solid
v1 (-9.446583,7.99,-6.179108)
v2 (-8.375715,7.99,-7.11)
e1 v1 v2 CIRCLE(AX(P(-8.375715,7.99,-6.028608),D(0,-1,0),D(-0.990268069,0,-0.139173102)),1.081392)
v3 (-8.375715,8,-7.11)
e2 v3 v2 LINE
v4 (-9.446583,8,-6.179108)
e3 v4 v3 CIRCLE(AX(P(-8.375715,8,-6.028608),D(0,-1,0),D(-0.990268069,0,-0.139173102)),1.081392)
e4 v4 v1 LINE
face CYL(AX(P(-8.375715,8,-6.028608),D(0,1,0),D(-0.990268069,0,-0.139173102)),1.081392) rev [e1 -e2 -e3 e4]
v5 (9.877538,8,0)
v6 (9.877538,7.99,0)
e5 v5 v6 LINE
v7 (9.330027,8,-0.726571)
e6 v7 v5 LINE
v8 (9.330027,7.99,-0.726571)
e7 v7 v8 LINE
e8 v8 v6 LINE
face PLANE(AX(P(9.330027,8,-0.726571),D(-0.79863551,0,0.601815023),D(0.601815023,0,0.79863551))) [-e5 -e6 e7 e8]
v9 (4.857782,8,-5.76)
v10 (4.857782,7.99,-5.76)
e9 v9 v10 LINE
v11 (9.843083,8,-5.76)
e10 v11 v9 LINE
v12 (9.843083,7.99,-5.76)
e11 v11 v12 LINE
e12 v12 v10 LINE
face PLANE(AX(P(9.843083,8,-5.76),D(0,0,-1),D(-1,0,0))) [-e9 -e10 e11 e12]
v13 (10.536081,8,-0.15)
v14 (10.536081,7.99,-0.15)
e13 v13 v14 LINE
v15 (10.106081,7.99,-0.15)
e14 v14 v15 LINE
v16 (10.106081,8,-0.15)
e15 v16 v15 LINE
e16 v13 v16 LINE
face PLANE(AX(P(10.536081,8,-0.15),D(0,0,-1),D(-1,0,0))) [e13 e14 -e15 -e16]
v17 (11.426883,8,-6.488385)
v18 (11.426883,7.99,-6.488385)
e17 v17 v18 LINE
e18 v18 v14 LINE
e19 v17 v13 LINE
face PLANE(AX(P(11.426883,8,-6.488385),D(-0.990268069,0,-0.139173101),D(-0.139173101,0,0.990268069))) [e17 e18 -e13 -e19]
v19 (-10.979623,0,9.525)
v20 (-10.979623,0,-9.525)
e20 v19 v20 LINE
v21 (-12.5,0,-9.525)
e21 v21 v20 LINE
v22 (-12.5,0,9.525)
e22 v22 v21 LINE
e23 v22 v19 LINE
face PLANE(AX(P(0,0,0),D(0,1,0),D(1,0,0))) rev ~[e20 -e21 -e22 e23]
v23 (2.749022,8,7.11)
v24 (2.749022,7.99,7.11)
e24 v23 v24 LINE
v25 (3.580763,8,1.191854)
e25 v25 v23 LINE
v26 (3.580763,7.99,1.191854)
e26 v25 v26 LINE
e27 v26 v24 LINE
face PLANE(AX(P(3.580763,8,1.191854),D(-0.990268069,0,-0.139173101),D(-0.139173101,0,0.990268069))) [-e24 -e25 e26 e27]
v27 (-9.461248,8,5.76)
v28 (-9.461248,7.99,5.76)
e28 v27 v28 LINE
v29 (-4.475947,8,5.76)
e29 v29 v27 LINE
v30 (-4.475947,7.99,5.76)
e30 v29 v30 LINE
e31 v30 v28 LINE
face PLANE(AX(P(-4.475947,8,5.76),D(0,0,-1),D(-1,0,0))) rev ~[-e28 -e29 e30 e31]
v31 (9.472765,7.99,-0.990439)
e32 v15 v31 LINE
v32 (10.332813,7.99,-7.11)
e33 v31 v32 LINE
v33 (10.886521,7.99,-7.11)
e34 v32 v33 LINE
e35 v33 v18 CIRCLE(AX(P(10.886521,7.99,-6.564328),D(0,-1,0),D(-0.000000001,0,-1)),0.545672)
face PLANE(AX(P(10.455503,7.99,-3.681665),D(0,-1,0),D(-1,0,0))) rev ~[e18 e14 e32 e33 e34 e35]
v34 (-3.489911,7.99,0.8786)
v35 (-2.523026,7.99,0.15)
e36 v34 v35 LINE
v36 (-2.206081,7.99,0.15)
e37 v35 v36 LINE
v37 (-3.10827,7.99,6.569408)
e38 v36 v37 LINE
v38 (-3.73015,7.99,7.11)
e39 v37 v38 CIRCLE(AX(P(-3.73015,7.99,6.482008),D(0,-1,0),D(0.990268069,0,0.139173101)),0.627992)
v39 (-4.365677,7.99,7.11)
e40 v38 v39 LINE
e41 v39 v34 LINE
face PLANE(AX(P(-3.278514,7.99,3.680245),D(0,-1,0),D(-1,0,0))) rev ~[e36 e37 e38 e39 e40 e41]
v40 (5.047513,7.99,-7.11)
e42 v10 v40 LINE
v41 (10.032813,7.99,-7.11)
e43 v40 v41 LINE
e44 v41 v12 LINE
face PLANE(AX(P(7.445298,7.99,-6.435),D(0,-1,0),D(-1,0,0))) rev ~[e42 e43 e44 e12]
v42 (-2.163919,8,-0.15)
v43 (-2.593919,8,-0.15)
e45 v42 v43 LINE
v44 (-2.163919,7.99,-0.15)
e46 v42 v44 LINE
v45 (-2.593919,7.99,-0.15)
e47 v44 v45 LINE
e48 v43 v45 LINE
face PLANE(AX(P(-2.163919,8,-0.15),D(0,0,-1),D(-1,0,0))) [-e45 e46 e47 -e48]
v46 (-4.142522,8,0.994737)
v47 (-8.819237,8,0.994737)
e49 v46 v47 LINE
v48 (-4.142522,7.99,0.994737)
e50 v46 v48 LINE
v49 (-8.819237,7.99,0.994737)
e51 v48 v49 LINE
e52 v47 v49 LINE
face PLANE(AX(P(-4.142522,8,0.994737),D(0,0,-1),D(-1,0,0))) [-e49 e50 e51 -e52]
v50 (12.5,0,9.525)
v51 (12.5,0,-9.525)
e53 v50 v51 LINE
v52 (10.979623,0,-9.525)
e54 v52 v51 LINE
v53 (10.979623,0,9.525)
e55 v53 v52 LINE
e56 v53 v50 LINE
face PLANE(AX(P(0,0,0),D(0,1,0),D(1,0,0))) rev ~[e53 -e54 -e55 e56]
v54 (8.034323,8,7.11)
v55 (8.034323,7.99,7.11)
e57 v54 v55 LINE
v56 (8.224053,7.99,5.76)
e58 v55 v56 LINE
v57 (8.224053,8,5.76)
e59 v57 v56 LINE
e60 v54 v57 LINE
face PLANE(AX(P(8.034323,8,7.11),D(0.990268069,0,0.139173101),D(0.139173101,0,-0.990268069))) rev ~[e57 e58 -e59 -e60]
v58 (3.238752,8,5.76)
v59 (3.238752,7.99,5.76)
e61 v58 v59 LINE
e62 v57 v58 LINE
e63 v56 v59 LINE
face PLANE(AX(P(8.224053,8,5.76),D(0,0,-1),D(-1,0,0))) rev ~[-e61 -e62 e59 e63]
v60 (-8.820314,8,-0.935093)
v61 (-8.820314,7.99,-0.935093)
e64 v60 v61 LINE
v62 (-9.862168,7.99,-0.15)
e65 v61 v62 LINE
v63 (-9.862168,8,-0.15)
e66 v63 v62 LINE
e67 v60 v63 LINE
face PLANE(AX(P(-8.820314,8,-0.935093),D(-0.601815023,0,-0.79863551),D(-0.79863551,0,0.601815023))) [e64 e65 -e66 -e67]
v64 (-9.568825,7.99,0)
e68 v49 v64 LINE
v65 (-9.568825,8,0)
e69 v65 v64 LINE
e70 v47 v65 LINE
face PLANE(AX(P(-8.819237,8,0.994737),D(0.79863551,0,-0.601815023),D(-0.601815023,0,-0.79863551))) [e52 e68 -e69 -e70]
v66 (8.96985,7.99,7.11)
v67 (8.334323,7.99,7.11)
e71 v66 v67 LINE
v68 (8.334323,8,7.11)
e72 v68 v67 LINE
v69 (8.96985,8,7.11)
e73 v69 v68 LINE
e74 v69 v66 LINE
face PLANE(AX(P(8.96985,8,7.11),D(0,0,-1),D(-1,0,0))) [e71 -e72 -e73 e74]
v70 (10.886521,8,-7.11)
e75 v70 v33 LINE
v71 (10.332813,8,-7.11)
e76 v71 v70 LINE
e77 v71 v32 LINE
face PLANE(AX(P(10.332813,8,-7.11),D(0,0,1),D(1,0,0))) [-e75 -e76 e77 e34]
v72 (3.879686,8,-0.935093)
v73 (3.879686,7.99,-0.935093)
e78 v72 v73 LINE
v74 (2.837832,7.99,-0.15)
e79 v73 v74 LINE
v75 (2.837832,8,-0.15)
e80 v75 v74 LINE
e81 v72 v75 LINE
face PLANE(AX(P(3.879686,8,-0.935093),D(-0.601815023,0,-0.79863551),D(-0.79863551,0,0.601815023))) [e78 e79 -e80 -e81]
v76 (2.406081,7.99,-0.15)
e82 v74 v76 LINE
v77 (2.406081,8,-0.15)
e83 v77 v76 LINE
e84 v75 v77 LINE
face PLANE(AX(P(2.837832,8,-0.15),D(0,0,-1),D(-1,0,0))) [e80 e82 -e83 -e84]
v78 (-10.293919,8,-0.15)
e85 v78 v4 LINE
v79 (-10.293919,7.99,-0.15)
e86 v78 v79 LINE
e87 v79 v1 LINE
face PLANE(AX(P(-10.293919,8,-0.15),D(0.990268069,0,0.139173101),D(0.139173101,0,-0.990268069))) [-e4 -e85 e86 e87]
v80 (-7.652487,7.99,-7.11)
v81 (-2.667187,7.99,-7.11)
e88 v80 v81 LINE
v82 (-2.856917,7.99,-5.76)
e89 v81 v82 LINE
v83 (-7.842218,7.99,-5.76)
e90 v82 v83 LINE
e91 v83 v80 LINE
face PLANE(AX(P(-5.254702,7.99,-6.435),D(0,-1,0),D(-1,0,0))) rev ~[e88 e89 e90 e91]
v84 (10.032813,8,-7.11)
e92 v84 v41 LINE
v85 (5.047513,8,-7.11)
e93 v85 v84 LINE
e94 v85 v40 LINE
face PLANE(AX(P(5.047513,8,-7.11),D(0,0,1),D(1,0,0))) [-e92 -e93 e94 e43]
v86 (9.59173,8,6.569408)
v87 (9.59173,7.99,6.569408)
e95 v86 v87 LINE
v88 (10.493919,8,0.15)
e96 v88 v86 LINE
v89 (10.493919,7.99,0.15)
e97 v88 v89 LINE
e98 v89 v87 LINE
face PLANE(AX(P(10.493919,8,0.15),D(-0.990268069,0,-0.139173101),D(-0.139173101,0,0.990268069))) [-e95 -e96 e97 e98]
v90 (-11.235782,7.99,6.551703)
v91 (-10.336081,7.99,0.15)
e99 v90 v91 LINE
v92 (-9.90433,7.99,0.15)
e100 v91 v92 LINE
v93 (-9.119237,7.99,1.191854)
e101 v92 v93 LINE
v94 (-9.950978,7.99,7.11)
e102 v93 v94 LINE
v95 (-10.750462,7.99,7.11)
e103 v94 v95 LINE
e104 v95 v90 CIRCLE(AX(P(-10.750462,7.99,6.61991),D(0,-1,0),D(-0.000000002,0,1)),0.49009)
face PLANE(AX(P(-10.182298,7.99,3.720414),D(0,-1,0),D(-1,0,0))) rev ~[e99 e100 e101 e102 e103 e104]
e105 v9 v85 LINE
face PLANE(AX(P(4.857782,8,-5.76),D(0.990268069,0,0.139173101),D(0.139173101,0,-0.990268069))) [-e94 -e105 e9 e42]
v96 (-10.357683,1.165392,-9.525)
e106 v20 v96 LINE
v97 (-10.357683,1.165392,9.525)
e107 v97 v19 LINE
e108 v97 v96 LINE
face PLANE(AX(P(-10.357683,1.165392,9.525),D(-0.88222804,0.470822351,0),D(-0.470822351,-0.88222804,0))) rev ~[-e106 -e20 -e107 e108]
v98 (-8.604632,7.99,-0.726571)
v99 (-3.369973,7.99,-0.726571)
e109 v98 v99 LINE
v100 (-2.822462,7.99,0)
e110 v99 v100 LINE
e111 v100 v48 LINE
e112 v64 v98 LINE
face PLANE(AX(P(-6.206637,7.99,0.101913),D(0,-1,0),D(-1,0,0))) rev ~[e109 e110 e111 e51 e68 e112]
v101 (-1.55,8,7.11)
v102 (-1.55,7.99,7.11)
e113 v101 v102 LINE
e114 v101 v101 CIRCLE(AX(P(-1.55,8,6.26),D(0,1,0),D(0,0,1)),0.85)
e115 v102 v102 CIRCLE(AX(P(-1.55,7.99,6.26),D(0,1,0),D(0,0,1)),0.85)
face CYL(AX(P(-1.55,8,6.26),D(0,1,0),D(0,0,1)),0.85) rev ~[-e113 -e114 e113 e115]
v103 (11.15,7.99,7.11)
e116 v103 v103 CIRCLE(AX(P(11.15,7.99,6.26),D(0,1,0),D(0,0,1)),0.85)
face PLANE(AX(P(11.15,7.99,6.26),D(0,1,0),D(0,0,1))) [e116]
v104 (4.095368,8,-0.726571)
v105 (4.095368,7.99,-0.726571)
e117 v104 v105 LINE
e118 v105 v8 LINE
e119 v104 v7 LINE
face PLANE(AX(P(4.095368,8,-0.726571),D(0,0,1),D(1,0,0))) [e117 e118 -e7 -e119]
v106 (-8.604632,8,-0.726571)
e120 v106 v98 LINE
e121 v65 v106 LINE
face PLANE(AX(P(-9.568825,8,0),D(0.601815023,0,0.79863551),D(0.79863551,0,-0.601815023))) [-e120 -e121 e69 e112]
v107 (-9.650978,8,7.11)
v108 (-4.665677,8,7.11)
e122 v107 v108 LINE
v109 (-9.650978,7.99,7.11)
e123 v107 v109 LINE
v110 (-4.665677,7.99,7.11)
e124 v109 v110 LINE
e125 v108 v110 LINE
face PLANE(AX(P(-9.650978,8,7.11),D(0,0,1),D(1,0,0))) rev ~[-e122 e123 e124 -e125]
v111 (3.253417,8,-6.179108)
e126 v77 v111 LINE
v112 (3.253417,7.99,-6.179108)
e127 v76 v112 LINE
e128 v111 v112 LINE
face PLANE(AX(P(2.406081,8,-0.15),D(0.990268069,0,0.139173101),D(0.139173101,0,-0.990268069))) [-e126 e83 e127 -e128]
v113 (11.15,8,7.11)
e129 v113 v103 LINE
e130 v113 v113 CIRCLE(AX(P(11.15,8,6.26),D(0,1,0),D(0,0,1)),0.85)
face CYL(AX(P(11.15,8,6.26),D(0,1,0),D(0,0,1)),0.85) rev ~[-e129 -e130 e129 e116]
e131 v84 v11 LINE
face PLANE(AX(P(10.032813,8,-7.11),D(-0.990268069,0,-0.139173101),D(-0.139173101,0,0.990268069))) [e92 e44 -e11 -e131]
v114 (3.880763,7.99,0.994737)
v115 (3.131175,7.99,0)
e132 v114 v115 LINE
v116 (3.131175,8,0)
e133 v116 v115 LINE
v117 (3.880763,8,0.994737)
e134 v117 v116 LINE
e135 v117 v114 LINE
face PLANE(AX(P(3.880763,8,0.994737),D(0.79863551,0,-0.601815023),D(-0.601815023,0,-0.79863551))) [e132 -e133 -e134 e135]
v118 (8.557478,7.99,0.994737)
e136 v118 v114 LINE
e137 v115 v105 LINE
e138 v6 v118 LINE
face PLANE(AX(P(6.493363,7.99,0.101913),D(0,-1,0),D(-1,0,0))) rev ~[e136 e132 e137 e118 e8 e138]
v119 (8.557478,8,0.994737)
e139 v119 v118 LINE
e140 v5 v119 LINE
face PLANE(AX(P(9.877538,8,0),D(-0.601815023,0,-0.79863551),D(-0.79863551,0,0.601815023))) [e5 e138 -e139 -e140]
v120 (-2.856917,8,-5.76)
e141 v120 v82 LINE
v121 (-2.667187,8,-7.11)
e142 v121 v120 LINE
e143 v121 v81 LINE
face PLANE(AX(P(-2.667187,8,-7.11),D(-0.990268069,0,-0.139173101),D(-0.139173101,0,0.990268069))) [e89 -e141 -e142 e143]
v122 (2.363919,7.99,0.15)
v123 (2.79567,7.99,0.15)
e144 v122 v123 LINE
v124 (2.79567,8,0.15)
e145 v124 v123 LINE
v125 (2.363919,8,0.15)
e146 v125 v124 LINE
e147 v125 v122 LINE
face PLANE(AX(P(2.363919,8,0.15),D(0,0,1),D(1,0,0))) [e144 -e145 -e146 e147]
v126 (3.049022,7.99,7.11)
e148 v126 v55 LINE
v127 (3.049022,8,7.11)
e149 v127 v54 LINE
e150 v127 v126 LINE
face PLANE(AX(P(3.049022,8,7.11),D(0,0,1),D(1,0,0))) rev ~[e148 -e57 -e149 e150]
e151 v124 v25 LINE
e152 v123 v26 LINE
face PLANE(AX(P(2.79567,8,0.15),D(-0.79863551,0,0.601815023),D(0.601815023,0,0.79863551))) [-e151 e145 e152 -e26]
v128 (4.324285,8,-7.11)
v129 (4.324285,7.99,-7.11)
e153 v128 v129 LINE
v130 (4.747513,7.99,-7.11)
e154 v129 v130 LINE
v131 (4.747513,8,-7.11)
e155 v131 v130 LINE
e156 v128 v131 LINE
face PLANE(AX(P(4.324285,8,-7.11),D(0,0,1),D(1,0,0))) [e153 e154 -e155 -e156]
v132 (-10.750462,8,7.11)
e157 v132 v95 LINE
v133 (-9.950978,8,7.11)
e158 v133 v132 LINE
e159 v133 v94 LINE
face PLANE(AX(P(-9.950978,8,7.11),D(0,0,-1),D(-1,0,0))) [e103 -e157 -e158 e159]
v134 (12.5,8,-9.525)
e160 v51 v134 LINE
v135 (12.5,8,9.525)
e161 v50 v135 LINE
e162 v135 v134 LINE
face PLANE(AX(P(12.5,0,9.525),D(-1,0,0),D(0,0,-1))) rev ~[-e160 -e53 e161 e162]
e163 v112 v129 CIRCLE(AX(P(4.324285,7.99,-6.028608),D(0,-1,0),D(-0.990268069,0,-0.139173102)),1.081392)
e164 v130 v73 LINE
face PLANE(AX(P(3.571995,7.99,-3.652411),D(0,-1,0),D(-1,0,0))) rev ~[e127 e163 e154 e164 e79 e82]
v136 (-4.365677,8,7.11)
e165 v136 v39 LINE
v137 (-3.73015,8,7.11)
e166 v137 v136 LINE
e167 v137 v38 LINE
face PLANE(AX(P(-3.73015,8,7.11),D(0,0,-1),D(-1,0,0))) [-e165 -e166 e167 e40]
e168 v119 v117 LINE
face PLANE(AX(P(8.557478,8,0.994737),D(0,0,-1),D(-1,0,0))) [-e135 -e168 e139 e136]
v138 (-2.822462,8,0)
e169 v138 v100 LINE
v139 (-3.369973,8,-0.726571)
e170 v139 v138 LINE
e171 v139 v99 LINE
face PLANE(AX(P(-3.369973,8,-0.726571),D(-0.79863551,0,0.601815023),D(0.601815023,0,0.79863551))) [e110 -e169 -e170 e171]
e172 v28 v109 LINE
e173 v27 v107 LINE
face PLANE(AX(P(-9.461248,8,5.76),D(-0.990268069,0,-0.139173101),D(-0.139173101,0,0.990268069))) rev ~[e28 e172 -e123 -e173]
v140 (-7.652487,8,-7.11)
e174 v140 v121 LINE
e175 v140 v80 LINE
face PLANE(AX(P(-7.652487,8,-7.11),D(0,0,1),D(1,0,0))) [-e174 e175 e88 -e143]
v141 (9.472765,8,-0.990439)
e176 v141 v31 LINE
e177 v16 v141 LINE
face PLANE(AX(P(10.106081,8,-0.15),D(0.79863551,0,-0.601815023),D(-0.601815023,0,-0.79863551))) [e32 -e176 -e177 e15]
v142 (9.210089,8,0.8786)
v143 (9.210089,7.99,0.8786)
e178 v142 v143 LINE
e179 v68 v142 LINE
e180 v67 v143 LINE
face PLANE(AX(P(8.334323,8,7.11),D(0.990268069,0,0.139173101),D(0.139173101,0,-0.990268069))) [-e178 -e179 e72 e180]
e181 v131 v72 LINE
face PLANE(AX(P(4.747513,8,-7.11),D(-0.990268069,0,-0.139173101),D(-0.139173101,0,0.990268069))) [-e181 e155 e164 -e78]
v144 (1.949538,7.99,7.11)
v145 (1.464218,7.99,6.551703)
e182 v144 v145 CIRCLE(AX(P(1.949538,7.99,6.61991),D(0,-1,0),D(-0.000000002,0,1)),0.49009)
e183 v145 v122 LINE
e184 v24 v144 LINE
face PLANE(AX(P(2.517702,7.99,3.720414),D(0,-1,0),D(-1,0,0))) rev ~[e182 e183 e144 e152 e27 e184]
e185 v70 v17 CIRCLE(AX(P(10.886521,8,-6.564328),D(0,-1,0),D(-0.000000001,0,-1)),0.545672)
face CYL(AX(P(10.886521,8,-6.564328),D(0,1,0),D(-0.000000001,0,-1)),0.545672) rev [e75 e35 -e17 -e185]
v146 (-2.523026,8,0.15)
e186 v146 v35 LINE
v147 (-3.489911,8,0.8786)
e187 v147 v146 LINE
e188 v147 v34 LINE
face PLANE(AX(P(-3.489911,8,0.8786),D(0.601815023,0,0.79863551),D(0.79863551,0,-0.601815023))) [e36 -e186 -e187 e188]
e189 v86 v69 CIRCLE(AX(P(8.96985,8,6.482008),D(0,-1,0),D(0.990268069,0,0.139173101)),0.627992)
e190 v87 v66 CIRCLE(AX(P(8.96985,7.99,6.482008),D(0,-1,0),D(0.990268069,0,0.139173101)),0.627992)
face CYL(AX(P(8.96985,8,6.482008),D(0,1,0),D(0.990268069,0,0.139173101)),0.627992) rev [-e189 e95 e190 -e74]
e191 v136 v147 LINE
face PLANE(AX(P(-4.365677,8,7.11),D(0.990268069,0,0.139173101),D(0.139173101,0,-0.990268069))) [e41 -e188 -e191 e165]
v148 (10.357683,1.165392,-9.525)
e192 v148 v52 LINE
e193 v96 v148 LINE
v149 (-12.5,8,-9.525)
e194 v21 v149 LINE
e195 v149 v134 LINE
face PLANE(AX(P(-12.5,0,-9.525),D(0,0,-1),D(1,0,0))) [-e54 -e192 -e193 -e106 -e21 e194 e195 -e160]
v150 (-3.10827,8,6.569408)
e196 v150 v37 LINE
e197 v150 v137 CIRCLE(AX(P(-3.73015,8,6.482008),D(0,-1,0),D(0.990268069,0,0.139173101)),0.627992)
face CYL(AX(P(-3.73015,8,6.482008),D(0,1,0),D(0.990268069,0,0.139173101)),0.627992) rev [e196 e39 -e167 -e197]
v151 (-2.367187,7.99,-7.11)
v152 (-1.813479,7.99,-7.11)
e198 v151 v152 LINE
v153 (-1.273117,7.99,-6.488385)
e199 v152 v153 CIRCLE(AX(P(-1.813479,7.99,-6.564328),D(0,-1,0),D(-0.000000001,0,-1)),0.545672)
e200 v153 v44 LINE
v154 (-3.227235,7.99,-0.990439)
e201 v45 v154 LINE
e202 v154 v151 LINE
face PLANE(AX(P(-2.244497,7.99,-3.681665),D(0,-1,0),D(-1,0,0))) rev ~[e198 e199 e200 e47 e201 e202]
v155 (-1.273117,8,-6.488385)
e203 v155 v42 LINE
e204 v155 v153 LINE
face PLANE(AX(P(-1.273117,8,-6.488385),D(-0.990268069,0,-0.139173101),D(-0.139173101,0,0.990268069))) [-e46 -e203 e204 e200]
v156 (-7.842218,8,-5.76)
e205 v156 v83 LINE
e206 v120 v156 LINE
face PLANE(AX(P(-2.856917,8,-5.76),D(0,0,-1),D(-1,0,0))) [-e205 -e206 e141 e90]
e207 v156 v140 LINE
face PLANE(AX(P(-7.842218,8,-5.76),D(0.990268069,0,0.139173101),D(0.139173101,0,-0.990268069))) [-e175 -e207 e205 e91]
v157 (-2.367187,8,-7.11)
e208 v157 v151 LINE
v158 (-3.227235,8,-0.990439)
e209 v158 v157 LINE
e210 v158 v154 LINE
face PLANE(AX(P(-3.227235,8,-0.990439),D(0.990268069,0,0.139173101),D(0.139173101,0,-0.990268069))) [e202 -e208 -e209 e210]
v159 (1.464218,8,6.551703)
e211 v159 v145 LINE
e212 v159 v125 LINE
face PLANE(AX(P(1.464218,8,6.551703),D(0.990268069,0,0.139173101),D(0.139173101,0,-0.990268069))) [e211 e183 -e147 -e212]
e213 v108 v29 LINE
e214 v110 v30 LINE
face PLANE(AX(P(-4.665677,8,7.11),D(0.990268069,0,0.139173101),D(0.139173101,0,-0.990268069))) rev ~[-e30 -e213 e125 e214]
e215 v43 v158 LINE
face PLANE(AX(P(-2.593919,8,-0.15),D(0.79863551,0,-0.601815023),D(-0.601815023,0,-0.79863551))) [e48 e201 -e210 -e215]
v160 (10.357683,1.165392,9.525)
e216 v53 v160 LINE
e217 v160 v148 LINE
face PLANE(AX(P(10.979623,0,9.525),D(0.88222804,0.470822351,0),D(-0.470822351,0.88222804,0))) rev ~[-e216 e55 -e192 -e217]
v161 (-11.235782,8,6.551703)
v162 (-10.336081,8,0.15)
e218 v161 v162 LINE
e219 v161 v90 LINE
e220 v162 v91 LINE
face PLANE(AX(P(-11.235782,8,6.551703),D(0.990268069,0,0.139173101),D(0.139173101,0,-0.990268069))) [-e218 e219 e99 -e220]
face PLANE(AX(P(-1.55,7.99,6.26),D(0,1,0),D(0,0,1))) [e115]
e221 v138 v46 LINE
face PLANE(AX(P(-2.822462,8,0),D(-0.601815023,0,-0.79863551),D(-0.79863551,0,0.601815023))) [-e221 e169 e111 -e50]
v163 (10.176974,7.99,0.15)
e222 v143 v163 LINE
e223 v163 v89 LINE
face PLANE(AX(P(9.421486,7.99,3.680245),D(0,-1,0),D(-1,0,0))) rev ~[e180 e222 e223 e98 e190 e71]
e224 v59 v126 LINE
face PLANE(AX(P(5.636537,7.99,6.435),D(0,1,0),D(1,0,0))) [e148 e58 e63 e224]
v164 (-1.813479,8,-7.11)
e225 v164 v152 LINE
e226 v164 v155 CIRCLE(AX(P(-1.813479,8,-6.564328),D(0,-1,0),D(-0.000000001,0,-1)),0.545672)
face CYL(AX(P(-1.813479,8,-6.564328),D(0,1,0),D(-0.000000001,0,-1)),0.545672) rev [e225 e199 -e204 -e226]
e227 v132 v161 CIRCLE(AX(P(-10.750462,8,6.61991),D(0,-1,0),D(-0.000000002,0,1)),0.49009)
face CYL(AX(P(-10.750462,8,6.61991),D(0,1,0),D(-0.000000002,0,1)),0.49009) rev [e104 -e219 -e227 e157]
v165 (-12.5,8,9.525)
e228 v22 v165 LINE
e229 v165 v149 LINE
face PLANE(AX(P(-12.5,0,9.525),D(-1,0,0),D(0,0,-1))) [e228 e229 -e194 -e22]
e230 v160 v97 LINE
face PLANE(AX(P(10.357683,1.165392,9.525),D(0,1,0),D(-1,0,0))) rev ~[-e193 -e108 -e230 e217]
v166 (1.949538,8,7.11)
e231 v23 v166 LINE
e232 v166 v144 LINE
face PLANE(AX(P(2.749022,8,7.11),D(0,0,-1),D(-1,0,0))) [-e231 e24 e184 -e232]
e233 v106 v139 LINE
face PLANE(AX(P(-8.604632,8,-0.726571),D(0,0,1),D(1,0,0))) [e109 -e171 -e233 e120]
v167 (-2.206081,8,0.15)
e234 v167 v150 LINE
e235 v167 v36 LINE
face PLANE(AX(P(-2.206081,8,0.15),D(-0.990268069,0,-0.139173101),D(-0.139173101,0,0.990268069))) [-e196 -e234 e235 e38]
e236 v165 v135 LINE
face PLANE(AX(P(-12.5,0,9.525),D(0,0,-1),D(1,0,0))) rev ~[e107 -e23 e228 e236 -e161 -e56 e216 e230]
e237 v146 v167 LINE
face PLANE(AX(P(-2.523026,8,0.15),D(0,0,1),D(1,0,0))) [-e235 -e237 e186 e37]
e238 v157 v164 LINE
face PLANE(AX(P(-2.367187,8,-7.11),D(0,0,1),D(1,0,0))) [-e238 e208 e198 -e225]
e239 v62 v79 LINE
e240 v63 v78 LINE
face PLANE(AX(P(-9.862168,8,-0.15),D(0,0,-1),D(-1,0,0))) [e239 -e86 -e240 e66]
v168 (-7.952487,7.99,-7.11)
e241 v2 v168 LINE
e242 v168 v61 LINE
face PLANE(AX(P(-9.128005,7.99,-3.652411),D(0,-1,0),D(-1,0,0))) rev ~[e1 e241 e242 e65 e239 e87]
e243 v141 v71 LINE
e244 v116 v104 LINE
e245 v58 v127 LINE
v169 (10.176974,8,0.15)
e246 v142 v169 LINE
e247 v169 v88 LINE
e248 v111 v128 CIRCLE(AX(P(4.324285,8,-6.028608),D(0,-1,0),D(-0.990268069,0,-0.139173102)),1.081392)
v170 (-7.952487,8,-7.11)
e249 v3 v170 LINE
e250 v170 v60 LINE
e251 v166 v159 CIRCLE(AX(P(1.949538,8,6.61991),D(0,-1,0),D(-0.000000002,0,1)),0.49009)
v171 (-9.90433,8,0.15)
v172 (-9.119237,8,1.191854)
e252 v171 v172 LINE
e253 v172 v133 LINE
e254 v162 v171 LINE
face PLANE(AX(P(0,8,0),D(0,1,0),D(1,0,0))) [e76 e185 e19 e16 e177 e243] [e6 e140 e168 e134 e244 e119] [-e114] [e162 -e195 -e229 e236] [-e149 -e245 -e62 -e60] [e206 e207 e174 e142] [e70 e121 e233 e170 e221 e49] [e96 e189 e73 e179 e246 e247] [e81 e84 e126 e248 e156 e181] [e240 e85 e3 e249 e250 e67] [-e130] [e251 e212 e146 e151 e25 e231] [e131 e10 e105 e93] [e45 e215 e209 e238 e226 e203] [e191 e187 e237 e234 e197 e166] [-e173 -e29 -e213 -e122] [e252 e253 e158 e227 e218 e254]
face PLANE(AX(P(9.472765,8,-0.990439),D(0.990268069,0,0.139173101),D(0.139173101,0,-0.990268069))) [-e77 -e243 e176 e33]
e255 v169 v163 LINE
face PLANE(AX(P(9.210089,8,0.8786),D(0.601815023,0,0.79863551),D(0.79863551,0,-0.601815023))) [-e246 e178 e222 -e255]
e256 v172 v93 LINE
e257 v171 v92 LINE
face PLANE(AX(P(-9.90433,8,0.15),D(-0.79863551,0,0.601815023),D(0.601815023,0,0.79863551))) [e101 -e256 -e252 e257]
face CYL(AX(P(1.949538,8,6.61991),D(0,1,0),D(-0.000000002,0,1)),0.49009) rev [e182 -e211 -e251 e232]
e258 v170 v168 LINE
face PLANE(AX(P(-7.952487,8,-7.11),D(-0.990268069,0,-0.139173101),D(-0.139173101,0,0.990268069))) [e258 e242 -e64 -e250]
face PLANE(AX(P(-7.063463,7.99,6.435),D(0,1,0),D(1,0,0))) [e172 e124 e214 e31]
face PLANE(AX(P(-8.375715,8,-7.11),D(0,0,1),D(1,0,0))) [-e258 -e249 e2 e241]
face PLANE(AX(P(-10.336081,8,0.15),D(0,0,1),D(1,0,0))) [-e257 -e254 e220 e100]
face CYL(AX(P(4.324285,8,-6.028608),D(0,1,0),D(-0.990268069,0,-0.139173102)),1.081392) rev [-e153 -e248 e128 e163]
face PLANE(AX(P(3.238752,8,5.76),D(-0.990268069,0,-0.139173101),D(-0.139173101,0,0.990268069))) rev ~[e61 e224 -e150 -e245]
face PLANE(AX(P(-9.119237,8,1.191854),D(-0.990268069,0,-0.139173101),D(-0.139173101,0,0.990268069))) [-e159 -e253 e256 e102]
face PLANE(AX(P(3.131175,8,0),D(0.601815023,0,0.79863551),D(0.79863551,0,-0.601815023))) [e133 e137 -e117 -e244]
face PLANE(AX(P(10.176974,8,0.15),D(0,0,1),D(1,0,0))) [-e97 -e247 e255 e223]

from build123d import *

# Parameters (mm, degrees)
SKETCH1_W           = 25
SKETCH1_H           = 19.05
BOSS_EXTRUDE1_DEPTH = 8
CUT_EXTRUDE1_DEPTH  = 25.148550681
SKETCH3_R           = 0.85
CUT_EXTRUDE3_DEPTH  = 0.01
LPATTERN2_COUNT     = 2
LPATTERN2_PITCH     = 12.7


with BuildPart() as part:
    # Sketch1 → Boss-Extrude1 (new body)
    with BuildSketch(Plane(origin=(0, 0, 0), x_dir=(1, 0, 0), z_dir=(0, 1, 0))):
        Rectangle(SKETCH1_W, SKETCH1_H)
    extrude(amount=BOSS_EXTRUDE1_DEPTH)

    # Sketch2 → Cut-Extrude1 (cut, through all)
    with BuildSketch(Plane.XY.offset(9.525)):
        Polygon((-10.357683229, 1.165391541), (-10.979622637, 0), (10.979622637, 0), (10.357683229, 1.165391541), align=None)
    extrude(amount=-CUT_EXTRUDE1_DEPTH, mode=Mode.SUBTRACT)

    # Sketch3 → Cut-Extrude3 (cut)
    with BuildSketch(Plane(origin=(0, 8, 0), x_dir=(1, 0, 0), z_dir=(0, 1, 0))):
        with Locations(Location((-1.55, -6.26, 0), (0, 0, 270))):
            Circle(SKETCH3_R)
        with BuildLine():
            Line((-10.293918875, 0.15), (-9.446582946, 6.179108414))
            ThreePointArc((-9.446582946, 6.179108414), (-9.085171861, 6.844744827), (-8.375714675, 7.11))
            Line((-8.375714675, 7.11), (-7.952487442, 7.11))
            Line((-7.952487442, 7.11), (-8.820313991, 0.935093249))
            Line((-8.820313991, 0.935093249), (-9.862167922, 0.15))
            Line((-9.862167922, 0.15), (-10.293918875, 0.15))
        make_face()
        with BuildLine():
            Line((-2.367186588, 7.11), (-1.813478843, 7.11))
            ThreePointArc((-1.813478843, 7.11), (-1.401654728, 6.922320938), (-1.273116986, 6.488384791))
            Line((-1.273116986, 6.488384791), (-2.163918875, 0.15))
            Line((-2.163918875, 0.15), (-2.593918875, 0.15))
            Line((-2.593918875, 0.15), (-3.227234844, 0.990438678))
            Line((-3.227234844, 0.990438678), (-2.367186588, 7.11))
        make_face()
        Polygon((-7.652487442, 7.11), (-2.667186588, 7.11), (-2.856916715, 5.76), (-7.842217569, 5.76), align=None)
        Polygon((-8.604632176, 0.726571417), (-3.369972607, 0.726571417), (-2.822461773, 0), (-4.142522346, -0.994736992), (-8.819236923, -0.994736992), (-9.568825012, 0), align=None)
        with BuildLine():
            Line((-10.336081125, -0.15), (-9.904330172, -0.15))
            Line((-9.904330172, -0.15), (-9.119236923, -1.191853931))
            Line((-9.119236923, -1.191853931), (-9.950978112, -7.11))
            Line((-9.950978112, -7.11), (-10.750461652, -7.11))
            ThreePointArc((-10.750461652, -7.11), (-11.120337027, -6.94143808), (-11.235781811, -6.551703021))
            Line((-11.235781811, -6.551703021), (-10.336081125, -0.15))
        make_face()
        Polygon((-9.650978112, -7.11), (-4.665677257, -7.11), (-4.47594713, -5.76), (-9.461247985, -5.76), align=None)
        with BuildLine():
            Line((-2.206081125, -0.15), (-3.108270084, -6.569408002))
            ThreePointArc((-3.108270084, -6.569408002), (-3.318150529, -6.955959695), (-3.730150039, -7.11))
            Line((-3.730150039, -7.11), (-4.365677257, -7.11))
            Line((-4.365677257, -7.11), (-3.489911075, -0.878599823))
            Line((-3.489911075, -0.878599823), (-2.523026453, -0.15))
            Line((-2.523026453, -0.15), (-2.206081125, -0.15))
        make_face()
    cut_extrude3 = extrude(amount=-CUT_EXTRUDE3_DEPTH, mode=Mode.SUBTRACT)

    # LPattern2: Cut-Extrude3 ×2
    with Locations(*[(i * LPATTERN2_PITCH, 0, 0) for i in range(1, LPATTERN2_COUNT)]):
        add(cut_extrude3, mode=Mode.SUBTRACT)


solid = part.part
